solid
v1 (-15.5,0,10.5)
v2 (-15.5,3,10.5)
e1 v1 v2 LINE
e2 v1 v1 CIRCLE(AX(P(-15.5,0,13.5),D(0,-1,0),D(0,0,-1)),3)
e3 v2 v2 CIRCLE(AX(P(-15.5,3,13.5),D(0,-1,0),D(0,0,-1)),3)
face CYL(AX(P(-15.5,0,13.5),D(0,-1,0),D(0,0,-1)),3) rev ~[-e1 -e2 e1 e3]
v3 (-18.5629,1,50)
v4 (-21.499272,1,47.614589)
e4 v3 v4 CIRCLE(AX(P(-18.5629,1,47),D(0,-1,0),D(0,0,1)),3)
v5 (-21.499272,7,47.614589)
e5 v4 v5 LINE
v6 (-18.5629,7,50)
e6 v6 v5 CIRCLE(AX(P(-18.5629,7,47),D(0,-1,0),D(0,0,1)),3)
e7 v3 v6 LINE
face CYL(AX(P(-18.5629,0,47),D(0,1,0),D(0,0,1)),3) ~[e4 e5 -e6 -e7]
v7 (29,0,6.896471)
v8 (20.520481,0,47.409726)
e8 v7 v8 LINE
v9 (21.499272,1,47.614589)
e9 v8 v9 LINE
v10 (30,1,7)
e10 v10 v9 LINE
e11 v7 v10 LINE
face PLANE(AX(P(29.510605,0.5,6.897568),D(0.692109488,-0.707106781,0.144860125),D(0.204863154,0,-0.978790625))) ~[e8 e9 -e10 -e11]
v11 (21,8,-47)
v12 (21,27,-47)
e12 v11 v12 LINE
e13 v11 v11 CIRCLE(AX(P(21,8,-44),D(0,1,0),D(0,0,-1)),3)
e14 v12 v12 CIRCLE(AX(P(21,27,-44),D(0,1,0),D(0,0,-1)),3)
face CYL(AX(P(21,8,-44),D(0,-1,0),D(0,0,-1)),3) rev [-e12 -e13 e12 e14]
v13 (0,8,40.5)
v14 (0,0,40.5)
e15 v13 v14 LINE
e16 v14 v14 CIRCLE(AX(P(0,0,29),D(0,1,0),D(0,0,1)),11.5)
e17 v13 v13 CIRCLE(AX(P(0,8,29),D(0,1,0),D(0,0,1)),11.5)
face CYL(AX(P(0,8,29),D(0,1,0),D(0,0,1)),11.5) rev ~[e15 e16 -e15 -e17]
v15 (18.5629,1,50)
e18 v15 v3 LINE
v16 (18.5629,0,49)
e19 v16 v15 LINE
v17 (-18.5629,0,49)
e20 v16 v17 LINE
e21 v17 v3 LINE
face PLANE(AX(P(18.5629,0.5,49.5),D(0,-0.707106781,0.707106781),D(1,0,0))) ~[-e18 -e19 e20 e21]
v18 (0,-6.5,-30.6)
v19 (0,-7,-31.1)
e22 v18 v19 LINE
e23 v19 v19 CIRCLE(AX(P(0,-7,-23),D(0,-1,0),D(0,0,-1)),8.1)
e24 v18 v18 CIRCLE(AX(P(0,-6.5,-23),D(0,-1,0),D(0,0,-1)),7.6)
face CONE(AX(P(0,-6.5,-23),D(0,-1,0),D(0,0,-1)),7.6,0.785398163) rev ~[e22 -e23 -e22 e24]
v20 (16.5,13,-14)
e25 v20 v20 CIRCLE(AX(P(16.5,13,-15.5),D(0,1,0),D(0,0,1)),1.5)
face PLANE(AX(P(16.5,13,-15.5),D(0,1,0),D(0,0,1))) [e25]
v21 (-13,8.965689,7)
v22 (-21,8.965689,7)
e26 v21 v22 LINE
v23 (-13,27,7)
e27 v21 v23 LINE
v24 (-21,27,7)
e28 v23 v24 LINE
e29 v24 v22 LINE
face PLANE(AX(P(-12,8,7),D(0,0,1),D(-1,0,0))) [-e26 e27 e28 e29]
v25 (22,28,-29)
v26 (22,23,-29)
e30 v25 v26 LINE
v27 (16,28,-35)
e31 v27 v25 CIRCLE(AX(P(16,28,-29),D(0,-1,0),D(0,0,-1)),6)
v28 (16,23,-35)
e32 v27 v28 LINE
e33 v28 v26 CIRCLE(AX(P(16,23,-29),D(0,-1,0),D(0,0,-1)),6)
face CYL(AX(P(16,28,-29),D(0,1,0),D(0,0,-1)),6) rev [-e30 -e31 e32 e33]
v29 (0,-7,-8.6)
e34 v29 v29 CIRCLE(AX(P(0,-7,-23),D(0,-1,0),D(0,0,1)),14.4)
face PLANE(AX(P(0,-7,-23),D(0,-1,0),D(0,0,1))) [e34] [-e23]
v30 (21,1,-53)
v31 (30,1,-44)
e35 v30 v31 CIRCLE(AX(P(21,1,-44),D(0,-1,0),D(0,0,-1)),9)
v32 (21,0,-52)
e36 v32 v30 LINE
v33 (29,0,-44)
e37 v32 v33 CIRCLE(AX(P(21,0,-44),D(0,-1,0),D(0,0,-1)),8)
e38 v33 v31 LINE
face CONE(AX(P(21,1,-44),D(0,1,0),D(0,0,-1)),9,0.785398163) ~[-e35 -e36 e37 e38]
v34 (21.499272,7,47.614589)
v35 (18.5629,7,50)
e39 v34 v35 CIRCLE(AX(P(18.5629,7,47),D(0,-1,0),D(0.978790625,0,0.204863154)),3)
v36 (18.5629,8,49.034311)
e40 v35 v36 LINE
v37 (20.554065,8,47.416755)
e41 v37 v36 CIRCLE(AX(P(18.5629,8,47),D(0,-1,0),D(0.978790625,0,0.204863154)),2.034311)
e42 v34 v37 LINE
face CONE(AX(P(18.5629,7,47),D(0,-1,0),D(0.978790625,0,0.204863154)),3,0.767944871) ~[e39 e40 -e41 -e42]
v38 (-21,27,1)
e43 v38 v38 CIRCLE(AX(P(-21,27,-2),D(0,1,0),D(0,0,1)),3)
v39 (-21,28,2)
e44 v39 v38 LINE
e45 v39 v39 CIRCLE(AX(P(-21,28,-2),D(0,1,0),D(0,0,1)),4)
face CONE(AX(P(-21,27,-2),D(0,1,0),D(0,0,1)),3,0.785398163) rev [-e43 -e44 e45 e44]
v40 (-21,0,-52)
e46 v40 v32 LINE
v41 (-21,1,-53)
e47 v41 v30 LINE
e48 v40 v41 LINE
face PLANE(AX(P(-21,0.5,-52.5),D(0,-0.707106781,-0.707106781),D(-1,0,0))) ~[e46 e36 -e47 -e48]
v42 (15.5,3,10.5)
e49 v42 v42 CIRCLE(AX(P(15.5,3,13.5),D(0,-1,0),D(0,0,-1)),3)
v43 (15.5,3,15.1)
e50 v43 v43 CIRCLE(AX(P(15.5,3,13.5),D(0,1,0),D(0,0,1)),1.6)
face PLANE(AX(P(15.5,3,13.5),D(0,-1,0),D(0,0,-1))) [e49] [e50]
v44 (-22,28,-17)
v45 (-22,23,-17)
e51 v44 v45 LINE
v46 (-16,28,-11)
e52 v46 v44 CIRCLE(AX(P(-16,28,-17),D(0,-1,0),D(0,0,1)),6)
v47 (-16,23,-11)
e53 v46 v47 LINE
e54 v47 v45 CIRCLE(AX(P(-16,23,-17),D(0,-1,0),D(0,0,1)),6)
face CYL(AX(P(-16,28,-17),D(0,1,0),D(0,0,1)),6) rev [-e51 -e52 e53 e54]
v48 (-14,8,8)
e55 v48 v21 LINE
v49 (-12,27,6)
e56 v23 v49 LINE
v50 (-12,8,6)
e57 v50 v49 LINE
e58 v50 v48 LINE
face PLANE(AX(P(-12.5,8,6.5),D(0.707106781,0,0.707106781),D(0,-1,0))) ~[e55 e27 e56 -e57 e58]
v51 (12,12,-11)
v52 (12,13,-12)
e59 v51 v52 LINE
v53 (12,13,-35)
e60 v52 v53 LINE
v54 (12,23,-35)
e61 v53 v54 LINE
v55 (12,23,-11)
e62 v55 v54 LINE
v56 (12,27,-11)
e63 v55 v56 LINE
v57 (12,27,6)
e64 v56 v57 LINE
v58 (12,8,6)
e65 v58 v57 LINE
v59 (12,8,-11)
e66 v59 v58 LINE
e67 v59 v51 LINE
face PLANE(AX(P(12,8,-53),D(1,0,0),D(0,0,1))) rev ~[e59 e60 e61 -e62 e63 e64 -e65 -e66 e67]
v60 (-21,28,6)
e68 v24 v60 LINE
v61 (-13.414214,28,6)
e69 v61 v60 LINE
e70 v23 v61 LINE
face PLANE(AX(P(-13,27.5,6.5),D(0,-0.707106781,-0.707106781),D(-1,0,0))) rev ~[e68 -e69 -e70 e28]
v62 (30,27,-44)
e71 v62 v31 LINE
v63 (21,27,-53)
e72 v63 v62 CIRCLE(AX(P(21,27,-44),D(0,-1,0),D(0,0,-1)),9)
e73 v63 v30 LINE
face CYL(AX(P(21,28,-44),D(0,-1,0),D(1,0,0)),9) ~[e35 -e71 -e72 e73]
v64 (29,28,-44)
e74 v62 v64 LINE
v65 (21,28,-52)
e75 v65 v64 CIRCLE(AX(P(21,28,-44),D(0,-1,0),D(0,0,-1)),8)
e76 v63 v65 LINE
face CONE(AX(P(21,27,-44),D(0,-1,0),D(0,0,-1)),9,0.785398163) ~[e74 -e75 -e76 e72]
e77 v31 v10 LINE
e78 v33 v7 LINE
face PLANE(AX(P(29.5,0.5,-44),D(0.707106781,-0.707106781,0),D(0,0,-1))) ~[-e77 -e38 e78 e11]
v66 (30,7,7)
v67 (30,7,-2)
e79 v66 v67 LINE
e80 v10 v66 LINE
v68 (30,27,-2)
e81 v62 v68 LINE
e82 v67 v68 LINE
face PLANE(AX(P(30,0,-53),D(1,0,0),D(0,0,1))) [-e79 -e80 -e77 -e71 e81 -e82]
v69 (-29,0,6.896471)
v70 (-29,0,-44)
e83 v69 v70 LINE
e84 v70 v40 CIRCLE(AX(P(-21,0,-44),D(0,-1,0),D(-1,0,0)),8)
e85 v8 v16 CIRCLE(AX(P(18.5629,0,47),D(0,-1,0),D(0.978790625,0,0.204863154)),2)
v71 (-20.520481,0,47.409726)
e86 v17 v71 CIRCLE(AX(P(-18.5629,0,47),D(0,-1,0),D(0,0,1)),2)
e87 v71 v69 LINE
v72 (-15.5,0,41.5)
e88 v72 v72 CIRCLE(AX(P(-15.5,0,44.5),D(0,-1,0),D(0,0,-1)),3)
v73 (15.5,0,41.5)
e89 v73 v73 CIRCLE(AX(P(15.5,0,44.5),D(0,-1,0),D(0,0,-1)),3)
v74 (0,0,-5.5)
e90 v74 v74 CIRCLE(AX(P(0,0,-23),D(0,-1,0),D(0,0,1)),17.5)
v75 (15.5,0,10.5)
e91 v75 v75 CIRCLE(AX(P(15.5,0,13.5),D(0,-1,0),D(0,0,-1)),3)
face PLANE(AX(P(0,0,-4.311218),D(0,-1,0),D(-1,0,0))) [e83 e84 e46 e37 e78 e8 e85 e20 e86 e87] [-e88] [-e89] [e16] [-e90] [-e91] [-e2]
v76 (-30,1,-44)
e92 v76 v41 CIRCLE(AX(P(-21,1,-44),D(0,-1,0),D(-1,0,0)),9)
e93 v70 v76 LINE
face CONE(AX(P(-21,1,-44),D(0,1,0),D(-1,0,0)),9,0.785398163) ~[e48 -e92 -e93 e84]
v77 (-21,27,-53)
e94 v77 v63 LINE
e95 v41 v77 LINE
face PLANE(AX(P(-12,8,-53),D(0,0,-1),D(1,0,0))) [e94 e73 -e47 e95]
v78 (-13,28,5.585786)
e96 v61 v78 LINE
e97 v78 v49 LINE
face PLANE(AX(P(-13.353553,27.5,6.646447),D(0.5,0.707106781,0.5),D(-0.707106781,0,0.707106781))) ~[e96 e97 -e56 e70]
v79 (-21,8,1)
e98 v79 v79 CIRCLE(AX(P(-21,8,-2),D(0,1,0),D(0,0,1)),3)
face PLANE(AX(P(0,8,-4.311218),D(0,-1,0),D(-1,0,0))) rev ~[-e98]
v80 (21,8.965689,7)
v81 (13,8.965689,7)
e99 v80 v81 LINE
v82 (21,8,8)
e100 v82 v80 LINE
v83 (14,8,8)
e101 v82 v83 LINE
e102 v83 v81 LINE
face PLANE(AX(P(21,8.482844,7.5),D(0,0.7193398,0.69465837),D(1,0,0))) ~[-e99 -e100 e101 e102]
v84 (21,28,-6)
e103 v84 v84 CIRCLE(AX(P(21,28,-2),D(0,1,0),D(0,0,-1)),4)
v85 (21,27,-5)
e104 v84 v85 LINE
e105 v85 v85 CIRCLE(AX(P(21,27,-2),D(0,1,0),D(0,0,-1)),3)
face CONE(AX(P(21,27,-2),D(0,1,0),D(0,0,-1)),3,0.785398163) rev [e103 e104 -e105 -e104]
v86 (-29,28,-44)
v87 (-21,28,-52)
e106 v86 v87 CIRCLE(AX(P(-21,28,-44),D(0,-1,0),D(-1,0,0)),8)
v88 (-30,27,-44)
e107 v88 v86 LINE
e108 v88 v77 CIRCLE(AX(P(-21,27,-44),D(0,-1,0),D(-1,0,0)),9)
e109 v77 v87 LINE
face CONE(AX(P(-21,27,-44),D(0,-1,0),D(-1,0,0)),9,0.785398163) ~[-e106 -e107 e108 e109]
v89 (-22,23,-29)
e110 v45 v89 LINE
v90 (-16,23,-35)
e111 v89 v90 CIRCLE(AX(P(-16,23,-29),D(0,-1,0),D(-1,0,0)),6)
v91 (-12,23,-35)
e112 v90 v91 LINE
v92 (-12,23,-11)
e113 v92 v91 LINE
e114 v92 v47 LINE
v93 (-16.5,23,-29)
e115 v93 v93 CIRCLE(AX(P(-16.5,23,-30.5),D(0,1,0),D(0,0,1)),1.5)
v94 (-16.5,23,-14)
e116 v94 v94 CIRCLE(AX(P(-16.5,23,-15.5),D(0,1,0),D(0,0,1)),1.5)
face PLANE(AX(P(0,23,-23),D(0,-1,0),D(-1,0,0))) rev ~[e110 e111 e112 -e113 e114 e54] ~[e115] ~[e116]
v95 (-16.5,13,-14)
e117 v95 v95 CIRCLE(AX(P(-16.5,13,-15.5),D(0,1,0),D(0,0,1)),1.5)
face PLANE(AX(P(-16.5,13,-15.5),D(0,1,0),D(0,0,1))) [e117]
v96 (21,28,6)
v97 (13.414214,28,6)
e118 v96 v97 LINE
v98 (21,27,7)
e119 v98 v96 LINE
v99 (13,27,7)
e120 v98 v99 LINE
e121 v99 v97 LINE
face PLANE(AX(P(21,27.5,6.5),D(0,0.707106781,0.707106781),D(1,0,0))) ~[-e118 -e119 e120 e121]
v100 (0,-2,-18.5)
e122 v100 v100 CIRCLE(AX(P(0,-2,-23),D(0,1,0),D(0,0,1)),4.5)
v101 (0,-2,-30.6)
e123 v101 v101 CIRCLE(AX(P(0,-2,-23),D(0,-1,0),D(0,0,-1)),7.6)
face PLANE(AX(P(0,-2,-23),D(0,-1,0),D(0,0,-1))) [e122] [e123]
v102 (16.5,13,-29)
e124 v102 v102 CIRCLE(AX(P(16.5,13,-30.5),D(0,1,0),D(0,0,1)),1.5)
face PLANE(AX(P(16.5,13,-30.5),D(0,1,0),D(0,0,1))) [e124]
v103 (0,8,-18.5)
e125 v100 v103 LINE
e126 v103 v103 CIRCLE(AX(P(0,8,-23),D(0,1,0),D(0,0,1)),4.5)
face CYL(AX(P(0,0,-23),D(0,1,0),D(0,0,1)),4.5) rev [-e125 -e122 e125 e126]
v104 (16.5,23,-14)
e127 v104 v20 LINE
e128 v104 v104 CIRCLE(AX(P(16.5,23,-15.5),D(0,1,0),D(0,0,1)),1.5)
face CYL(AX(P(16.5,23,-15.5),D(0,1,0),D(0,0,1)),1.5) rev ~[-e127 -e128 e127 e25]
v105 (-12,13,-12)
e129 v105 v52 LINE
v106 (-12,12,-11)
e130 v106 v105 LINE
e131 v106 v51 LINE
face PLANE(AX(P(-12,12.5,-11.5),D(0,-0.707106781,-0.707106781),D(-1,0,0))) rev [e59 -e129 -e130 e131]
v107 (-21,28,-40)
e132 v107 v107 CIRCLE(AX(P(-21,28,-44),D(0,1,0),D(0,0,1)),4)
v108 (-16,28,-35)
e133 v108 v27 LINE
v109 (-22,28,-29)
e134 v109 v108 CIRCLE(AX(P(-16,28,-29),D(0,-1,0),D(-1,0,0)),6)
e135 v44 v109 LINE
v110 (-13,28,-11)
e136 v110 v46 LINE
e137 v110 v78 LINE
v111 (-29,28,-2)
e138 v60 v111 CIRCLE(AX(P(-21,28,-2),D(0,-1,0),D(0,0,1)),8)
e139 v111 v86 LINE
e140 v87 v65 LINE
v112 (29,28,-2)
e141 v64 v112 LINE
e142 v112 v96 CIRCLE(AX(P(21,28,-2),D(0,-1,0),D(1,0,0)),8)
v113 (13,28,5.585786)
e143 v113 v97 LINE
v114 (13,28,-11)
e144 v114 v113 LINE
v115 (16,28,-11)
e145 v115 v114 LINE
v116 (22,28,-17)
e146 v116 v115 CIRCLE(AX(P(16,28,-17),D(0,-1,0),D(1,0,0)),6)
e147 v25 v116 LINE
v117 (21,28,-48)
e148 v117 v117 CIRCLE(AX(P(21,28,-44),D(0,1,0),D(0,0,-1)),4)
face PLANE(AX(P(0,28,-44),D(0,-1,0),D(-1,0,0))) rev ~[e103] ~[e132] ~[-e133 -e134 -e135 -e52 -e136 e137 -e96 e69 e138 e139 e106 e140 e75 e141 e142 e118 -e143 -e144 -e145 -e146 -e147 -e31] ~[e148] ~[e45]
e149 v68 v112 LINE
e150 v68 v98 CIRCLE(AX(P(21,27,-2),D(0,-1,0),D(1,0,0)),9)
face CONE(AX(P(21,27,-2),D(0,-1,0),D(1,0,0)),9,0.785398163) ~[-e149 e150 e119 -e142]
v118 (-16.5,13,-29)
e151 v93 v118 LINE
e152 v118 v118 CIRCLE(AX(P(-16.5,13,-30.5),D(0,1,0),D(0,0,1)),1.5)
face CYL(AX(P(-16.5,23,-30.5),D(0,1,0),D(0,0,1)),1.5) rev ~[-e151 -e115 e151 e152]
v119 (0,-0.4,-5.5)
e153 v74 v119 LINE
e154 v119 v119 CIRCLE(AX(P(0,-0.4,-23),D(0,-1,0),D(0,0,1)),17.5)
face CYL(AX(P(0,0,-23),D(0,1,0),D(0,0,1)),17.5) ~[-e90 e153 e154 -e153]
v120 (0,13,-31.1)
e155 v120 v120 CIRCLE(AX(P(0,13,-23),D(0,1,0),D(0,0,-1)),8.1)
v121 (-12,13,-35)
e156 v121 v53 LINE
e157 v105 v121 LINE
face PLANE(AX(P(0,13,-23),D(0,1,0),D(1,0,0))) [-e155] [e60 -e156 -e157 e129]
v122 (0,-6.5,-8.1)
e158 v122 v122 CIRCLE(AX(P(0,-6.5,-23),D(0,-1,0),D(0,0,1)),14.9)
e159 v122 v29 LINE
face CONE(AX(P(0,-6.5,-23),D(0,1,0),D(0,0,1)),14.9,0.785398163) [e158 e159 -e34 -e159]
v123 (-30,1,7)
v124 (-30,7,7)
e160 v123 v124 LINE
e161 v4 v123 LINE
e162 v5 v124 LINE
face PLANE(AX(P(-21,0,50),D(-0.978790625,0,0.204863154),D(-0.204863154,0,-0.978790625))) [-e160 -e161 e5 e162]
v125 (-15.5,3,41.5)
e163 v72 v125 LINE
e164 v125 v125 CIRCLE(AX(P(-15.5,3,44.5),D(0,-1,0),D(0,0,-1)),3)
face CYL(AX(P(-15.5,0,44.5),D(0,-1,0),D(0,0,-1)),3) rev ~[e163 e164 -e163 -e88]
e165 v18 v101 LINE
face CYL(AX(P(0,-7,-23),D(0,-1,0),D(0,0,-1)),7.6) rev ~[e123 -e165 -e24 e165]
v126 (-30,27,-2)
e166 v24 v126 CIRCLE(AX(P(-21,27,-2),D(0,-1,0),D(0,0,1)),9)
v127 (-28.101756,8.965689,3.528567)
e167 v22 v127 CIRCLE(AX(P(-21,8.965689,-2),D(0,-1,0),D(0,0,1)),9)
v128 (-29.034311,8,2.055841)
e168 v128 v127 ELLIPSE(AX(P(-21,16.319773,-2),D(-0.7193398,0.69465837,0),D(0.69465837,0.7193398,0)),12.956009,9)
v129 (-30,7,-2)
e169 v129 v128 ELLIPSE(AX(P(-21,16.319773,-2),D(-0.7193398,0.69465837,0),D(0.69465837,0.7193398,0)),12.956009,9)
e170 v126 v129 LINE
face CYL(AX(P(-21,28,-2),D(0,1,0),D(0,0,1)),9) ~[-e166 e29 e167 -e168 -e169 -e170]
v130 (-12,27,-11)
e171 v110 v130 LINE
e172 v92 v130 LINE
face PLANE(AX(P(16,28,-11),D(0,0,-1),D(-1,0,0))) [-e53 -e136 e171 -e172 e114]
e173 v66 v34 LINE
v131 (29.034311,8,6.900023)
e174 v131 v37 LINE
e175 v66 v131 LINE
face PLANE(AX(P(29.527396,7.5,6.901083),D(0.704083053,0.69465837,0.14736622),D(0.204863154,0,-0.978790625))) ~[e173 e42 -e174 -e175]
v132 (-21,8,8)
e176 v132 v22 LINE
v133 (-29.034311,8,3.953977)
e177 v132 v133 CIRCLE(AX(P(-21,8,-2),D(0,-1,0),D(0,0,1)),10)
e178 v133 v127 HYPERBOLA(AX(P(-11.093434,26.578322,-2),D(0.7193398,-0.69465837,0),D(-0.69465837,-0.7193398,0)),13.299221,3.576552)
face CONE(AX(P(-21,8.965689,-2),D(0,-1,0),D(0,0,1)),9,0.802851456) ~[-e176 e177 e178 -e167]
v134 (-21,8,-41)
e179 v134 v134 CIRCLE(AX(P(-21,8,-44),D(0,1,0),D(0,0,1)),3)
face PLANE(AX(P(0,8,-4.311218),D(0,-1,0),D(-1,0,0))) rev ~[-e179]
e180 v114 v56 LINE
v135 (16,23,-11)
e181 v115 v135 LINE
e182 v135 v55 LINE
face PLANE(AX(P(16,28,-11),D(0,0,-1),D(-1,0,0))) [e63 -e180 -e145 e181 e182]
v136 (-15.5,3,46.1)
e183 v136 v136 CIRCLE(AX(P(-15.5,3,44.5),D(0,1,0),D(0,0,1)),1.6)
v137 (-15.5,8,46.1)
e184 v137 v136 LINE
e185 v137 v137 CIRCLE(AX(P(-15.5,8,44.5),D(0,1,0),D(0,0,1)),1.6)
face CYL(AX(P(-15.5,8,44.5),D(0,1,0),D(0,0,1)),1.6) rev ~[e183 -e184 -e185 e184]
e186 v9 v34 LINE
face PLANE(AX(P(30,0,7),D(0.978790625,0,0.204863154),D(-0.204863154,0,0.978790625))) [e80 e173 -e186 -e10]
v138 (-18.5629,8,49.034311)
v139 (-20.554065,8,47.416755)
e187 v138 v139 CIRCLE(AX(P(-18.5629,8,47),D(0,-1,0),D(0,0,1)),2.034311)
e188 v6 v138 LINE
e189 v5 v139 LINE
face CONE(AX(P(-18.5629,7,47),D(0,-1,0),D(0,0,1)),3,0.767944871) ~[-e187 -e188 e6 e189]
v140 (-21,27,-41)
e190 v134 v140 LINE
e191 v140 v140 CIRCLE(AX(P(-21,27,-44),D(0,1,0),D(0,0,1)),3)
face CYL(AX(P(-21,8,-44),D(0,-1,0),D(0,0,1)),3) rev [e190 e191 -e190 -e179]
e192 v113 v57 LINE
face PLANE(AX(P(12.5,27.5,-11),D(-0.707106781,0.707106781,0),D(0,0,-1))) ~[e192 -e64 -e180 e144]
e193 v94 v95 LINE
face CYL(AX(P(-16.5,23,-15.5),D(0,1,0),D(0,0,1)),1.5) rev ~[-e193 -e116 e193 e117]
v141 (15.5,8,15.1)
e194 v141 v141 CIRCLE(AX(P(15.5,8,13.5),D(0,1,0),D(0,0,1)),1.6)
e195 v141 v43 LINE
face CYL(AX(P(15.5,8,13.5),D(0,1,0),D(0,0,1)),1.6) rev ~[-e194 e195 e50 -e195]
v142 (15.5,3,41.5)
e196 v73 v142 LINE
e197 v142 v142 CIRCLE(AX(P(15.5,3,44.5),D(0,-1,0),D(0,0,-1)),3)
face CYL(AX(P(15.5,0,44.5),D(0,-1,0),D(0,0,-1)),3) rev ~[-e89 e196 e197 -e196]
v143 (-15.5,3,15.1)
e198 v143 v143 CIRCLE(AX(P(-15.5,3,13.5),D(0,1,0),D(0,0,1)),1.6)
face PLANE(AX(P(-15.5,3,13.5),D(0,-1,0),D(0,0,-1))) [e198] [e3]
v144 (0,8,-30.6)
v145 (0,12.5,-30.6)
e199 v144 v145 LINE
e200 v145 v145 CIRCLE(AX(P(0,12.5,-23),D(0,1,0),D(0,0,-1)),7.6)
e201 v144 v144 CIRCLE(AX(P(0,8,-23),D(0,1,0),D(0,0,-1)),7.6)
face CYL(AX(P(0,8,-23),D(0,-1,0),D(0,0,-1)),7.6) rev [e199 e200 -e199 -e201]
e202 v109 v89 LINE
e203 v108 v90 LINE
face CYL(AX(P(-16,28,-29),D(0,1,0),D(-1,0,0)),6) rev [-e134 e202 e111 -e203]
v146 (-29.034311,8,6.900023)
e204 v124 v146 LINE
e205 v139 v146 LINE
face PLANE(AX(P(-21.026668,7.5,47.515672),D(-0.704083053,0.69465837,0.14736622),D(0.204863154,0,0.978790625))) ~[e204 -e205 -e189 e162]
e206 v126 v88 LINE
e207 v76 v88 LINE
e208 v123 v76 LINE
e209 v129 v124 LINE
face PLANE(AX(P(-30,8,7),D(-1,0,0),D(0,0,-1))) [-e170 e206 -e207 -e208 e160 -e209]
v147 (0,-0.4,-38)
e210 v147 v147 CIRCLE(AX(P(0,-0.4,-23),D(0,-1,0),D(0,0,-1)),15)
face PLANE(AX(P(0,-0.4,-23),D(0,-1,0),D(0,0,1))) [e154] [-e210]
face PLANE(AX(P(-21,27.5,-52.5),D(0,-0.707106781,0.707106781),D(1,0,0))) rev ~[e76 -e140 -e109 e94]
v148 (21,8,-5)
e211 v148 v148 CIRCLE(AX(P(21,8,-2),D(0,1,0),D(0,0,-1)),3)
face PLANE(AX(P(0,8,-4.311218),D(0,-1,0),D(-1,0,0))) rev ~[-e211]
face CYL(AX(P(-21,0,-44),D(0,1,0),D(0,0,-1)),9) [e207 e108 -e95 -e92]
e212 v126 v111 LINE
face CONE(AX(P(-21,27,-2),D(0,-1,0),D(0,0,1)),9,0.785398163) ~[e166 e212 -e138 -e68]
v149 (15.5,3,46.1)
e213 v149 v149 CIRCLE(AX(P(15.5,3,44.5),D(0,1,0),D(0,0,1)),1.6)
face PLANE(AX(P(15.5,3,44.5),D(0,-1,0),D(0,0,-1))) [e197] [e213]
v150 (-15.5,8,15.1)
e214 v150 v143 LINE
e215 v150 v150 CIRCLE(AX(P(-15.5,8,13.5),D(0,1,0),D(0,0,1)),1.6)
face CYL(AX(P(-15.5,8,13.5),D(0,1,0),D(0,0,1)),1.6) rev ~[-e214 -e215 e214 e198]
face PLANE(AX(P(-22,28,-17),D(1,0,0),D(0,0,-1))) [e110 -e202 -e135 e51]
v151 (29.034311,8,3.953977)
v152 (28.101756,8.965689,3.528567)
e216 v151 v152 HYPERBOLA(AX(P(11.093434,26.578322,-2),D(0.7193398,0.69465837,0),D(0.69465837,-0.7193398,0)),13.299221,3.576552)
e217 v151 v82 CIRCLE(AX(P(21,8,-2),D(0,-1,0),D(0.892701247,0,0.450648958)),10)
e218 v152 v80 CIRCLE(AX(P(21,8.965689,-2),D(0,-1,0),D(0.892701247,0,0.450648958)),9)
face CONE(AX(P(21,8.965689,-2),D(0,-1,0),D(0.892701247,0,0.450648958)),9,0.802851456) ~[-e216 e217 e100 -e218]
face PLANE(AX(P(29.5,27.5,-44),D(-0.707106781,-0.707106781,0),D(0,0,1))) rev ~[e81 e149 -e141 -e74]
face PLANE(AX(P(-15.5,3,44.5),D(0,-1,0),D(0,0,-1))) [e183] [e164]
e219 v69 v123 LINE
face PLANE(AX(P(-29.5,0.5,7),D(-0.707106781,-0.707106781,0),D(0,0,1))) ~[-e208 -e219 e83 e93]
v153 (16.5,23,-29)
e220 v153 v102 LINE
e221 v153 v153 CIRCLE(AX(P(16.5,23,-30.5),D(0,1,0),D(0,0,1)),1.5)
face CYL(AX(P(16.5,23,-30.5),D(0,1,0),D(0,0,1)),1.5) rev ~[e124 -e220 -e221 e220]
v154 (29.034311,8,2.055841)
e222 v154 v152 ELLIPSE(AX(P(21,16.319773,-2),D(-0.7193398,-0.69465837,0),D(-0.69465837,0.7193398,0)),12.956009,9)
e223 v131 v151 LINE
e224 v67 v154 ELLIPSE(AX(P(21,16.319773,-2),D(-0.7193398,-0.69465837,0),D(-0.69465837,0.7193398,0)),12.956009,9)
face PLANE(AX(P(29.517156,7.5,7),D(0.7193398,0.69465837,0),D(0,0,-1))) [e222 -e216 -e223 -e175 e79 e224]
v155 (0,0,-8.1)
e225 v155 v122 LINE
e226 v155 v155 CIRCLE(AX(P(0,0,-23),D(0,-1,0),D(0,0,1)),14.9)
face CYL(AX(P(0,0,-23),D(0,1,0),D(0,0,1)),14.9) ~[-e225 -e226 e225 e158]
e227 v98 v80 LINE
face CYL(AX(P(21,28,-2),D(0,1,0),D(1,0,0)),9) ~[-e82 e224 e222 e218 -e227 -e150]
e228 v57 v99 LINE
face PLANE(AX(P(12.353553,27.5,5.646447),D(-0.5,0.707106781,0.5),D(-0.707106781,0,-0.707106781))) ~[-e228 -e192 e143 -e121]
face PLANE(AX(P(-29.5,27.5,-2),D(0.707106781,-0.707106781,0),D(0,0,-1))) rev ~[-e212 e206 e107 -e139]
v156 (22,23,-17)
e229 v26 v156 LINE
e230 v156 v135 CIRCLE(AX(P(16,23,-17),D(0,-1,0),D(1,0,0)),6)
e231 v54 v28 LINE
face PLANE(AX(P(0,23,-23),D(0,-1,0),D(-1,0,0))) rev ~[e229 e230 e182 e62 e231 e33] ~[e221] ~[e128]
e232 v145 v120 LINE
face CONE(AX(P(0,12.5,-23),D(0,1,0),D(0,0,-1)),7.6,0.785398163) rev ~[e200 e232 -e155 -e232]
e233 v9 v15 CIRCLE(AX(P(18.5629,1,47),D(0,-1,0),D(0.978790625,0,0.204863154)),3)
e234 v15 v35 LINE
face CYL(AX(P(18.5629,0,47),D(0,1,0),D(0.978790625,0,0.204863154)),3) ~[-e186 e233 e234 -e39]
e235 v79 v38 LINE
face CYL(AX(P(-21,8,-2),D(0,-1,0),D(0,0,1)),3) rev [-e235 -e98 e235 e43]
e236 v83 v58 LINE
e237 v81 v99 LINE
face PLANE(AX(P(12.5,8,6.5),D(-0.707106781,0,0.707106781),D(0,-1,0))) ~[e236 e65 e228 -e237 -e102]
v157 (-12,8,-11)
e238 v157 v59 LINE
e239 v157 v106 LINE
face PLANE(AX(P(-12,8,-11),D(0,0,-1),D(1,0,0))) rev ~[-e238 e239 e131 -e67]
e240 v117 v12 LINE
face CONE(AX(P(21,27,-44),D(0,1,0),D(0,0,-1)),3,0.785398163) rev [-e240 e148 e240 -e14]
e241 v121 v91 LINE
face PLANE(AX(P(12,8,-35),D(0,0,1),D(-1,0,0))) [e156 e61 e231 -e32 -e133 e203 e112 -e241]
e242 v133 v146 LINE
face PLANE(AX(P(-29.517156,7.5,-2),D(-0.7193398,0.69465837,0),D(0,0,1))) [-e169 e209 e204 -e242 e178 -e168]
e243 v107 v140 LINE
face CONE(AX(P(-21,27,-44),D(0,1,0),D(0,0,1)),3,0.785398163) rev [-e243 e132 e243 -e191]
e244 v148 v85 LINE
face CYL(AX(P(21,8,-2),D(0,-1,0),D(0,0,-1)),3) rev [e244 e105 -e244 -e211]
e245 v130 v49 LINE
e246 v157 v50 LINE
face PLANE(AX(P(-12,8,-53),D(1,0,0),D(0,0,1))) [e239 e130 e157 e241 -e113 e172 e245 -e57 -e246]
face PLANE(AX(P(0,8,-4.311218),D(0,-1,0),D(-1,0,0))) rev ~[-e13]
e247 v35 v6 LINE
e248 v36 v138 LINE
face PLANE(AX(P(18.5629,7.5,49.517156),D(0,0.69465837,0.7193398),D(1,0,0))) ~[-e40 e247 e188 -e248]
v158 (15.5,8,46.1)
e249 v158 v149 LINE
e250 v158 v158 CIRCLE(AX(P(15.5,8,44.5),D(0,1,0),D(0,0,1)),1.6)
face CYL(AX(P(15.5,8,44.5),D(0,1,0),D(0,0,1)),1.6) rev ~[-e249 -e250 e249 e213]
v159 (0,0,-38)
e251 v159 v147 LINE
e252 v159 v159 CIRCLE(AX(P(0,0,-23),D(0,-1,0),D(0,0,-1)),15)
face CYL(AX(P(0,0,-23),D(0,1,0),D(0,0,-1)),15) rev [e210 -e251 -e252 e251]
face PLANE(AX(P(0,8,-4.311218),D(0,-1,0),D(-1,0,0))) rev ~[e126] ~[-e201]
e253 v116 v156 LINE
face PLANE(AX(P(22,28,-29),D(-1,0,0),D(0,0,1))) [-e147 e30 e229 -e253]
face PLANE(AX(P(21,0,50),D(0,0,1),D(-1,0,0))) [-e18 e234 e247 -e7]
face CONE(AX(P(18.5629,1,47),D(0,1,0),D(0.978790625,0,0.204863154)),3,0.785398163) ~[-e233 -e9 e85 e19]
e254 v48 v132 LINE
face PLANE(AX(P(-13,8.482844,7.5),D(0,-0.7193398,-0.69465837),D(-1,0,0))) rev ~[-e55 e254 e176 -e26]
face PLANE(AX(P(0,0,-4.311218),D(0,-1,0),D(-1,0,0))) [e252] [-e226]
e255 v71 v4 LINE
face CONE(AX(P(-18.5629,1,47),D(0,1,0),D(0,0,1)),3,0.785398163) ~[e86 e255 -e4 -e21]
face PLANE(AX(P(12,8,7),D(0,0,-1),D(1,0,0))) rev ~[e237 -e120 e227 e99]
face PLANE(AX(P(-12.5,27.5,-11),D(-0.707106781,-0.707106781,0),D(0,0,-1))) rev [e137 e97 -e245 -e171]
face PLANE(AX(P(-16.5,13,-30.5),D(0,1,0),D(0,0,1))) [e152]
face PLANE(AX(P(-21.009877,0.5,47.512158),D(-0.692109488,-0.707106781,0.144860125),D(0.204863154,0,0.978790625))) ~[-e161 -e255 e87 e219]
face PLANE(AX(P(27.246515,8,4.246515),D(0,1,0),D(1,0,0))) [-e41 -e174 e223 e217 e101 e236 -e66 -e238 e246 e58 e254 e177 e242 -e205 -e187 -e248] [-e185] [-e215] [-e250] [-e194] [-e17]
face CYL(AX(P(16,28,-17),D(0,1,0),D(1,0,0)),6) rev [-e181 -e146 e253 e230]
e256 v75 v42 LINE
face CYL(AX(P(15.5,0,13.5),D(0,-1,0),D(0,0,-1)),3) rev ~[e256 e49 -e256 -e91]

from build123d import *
from OCP.BRepFilletAPI import BRepFilletAPI_MakeChamfer

# Parameters (mm, degrees)
EXTRUDE_1_DEPTH      = 8
SKETCH_3_R           = 11.5
SKETCH_3_R_2         = 1.6
SKETCH_3_R_3         = 1.5999999999999992
SKETCH_3_R_4         = 1.6000000000000019
CUT_EXTRUDE_1_DEPTH  = 20
SKETCH_2_R           = 3.0000000000000018
SKETCH_2_R_2         = 3.0000000000000044
EXTRUDE_2_DEPTH      = 20
SKETCH_4_R           = 4.5
CUT_EXTRUDE_2_DEPTH  = 20
EXTRUDE_6_DEPTH      = 20
SKETCH_8_W           = 24.000000000000004
SKETCH_8_H           = 23.999999999999996
SKETCH_8_R           = 6.5
EXTRUDE_7_DEPTH      = 5
SKETCH_9_R           = 14.900000000000002
SKETCH_9_R_2         = 4.5
EXTRUDE_8_DEPTH      = 7
SKETCH_12_R          = 17.5
SKETCH_12_R_2        = 15
EXTRUDE_10_DEPTH     = 0.4
SKETCH_13_R          = 7.6000000000000005
CUT_EXTRUDE_4_DEPTH  = 5
FILLET_2_R           = 9
CUT_EXTRUDE_5_DEPTH  = 20
SKETCH_17_R          = 2.9999999999999996
SKETCH_17_R_2        = 2.999999999999998
SKETCH_17_R_3        = 3.0000000000000004
SKETCH_17_R_4        = 2.9999999999999987
CUT_EXTRUDE_8_DEPTH  = 3
FILLET_3_R           = 3
CHAMFER_3_SIZE       = 1
CHAMFER_4_SIZE       = 1
CHAMFER_8_SIZE       = 1
CHAMFER_11_SIZE      = 1
CHAMFER_11_SIZE2     = 0.9656887748070774
CHAMFER_12_SIZE      = 1
CHAMFER_12_SIZE2     = 0.9656887748070774
CUT_EXTRUDE_9_DEPTH  = 5
SKETCH_19_R          = 1.5000000000000009
CUT_EXTRUDE_10_DEPTH = 9.999999999999998
CHAMFER_14_SIZE      = 0.5
CHAMFER_15_SIZE      = 1
CHAMFER_16_SIZE      = 0.5
CUT_EXTRUDE_START    = -5
SKETCH_20_R          = 7.6000000000000005
CUT_EXTRUDE_11_DEPTH = 5
CHAMFER_17_SIZE      = 0.5


with BuildPart() as part:
    # 草图1 → 凸台-拉伸1 (new body)
    with BuildSketch(Plane(origin=(0, 0, 0), x_dir=(1, 0, 0), z_dir=(0, 1, 0))):
        Polygon((29.999999999999996, -7.000000000000006), (21.000000000000014, -50), (-20.999999999999986, -50), (-30.000000000000004, -7.000000000000006), (-30.000000000000004, 52.99999999999999), (29.999999999999996, 52.99999999999999), align=None)
    extrude(amount=EXTRUDE_1_DEPTH)

    # 草图3 → 切除-拉伸1 (cut)
    with BuildSketch(Plane(origin=(0, 8, 0), x_dir=(1, 0, 0), z_dir=(0, 1, 0))):
        with Locations(Location((1.33e-14, -29.000000000000007, 0), (0, 0, 270))):
            Circle(SKETCH_3_R)
        with Locations(Location((15.500000000000012, -13.500000000000009, 0), (0, 0, 270))):
            Circle(SKETCH_3_R_2)
        with Locations(Location((15.500000000000398, -44.500000000000064, 0), (0, 0, 270))):
            Circle(SKETCH_3_R_3)
        with Locations(Location((-15.499999999999662, -44.50000000000034, 0), (0, 0, 270))):
            Circle(SKETCH_3_R_3)
        with Locations(Location((-15.499999999999826, -13.500000000000288, 0), (0, 0, 270))):
            Circle(SKETCH_3_R_4)
    extrude(amount=-CUT_EXTRUDE_1_DEPTH, mode=Mode.SUBTRACT)

    # 草图2 → 凸台-拉伸2 (add)
    # profile 1 of 2: a face of its own
    with BuildSketch(Plane(origin=(0, 8, 0), x_dir=(1, 0, 0), z_dir=(0, 1, 0))):
        Polygon((-30.000000000000004, 52.99999999999999), (-12.000000000000005, 52.99999999999999), (-11.999999999999996, -7.000000000000006), (-29.999999999999996, -7.000000000000006), align=None)
        with Locations(Location((-21.000000000000004, 43.99999999999999, 0), (0, 0, 270))):
            Circle(SKETCH_2_R, mode=Mode.SUBTRACT)
        with Locations(Location((-20.999999999999993, 1.9999999999999931, 0), (0, 0, 270))):
            Circle(SKETCH_2_R_2, mode=Mode.SUBTRACT)
    # profile 2 of 2: a face of its own
    with BuildSketch(Plane(origin=(0, 8, 0), x_dir=(1, 0, 0), z_dir=(0, 1, 0))):
        Polygon((12.000000000000005, 52.99999999999999), (11.999999999999996, -7.000000000000006), (29.999999999999996, -7.000000000000006), (30.000000000000004, 52.99999999999999), align=None)
        with Locations(Location((20.999999999999993, 1.9999999999999931, 0), (0, 0, 90))):
            Circle(SKETCH_2_R_2, mode=Mode.SUBTRACT)
        with Locations(Location((21.000000000000004, 43.99999999999999, 0), (0, 0, 90))):
            Circle(SKETCH_2_R, mode=Mode.SUBTRACT)
    extrude(amount=EXTRUDE_2_DEPTH)

    # 草图4 → 切除-拉伸2 (cut)
    with BuildSketch(Plane(origin=(0, 8, 0), x_dir=(1, 0, 0), z_dir=(0, 1, 0))):
        with Locations(Location((0, 22.999999999999993, 0), (0, 0, 270))):
            Circle(SKETCH_4_R)
    extrude(amount=-CUT_EXTRUDE_2_DEPTH, mode=Mode.SUBTRACT)

    # 草图7 → 凸台-拉伸6 (add)
    with BuildSketch(Plane(origin=(0, 8, 0), x_dir=(1, 0, 0), z_dir=(0, 1, 0))):
        Polygon((12.000000000000304, 34.99999999999999), (-11.999999999999996, 34.99999999999999), (-11.999999999999996, 52.99999999999999), (12.000000000000313, 52.99999999999999), align=None)
    extrude(amount=EXTRUDE_6_DEPTH)

    # 草图8 → 凸台-拉伸7 (add)
    with BuildSketch(Plane(origin=(0, 8, 0), x_dir=(1, 0, 0), z_dir=(0, 1, 0))):
        with Locations((-1.78e-15, 22.999999999999993)):
            Rectangle(SKETCH_8_W, SKETCH_8_H)
        with Locations(Location((0, 22.999999999999993, 0), (0, 0, 270))):
            Circle(SKETCH_8_R, mode=Mode.SUBTRACT)
    extrude(amount=EXTRUDE_7_DEPTH)

    # 草图9 → 凸台-拉伸8 (add)
    with BuildSketch(Plane.XZ):
        with Locations(Location((0, -22.999999999999993, 0), (0, 0, 90))):
            Circle(SKETCH_9_R)
        with Locations(Location((0, -22.999999999999993, 0), (0, 0, 90))):
            Circle(SKETCH_9_R_2, mode=Mode.SUBTRACT)
    extrude(amount=EXTRUDE_8_DEPTH)

    # 草图12 → 凸台-拉伸10 (add)
    with BuildSketch(Plane.XZ):
        with Locations(Location((0, -22.999999999999993, 0), (0, 0, 90))):
            Circle(SKETCH_12_R)
        with Locations(Location((0, -22.999999999999993, 0), (0, 0, 270))):
            Circle(SKETCH_12_R_2, mode=Mode.SUBTRACT)
    extrude(amount=EXTRUDE_10_DEPTH)

    # 草图13 → 切除-拉伸4 (cut)
    with BuildSketch(Plane.XZ.offset(7)):
        with Locations(Location((0, -22.999999999999993, 0), (0, 0, 270))):
            Circle(SKETCH_13_R)
    extrude(amount=-CUT_EXTRUDE_4_DEPTH, mode=Mode.SUBTRACT)

    # 圆角2
    fillet_2_edges = [part.edges().sort_by_distance(p)[0] for p in [
        (-30.000000000000004, 14, -52.99999999999999),
        (30, 14, -52.99999999999999),
    ]]
    fillet(fillet_2_edges, radius=FILLET_2_R)

    # 草图14 → 切除-拉伸5 (cut)
    with BuildSketch(Plane(origin=(0, 28, 0), x_dir=(1, 0, 0), z_dir=(0, 1, 0))):
        with BuildLine():
            Line((-30.000000000000004, 1.9999999999999931), (-29.999999999999996, -7.000000000000006))
            Line((-29.999999999999996, -7.000000000000006), (-20.999999999999993, -7.000000000000015))
            ThreePointArc((-20.999999999999993, -7.000000000000015), (-27.36396103067893, -4.363961030678942), (-30.000000000000004, 1.9999999999999931))
        make_face()
        with BuildLine():
            Line((20.999999999999993, -7.000000000000006), (29.999999999999996, -7.000000000000006))
            Line((29.999999999999996, -7.000000000000006), (29.999999999999993, 1.9999999999999931))
            ThreePointArc((29.999999999999993, 1.9999999999999931), (27.363961030678922, -4.363961030678935), (20.999999999999993, -7.000000000000006))
        make_face()
    extrude(amount=-CUT_EXTRUDE_5_DEPTH, mode=Mode.SUBTRACT)

    # 草图17 → 切除-拉伸8 (cut)
    with BuildSketch(Plane.XZ):
        with Locations(Location((-15.499999999999826, 13.500000000000288, 0), (0, 0, 270))):
            Circle(SKETCH_17_R)
        with Locations(Location((-15.499999999999657, 44.4999999999999, 0), (0, 0, 270))):
            Circle(SKETCH_17_R_2)
        with Locations(Location((15.499999999999964, 44.49999999999962, 0), (0, 0, 270))):
            Circle(SKETCH_17_R_3)
        with Locations(Location((15.499999999999568, 13.500000000000009, 0), (0, 0, 270))):
            Circle(SKETCH_17_R_4)
    extrude(amount=-CUT_EXTRUDE_8_DEPTH, mode=Mode.SUBTRACT)

    # 圆角3
    fillet_3_edges = [part.edges().sort_by_distance(p)[0] for p in [
        (21.000000000000014, 4, 50),
        (-20.999999999999986, 4, 50),
    ]]
    fillet(fillet_3_edges, radius=FILLET_3_R)

    # 倒角3
    chamfer_3_edges = [part.edges().sort_by_distance(p)[0] for p in [
        (29.999999999999996, 0, -18.499999999999993),
        (25.74963598649637, 0, 27.307294731184044),
        (-7.11e-15, 0, -52.99999999999999),
        (27.36396103067893, -1.61e-15, -50.36396103067892),
        (-27.363961030678936, 0, -50.36396103067892),
        (1.066e-14, 0, 50),
        (-20.45449091092715, 0, 49.328493975416755),
        (20.45449091092717, 0, 49.328493975416755),
        (-25.749635986496358, 0, 27.307294731184044),
        (-30.000000000000004, 0, -18.499999999999993),
    ]]
    chamfer(chamfer_3_edges, length=CHAMFER_3_SIZE)

    # 倒角4
    chamfer_4_edges = [part.edges().sort_by_distance(p)[0] for p in [
        (-11.999999999999996, 18, 7.000000000000006),
        (11.999999999999996, 18, 7.000000000000006),
    ]]
    chamfer(chamfer_4_edges, length=CHAMFER_4_SIZE)

    # 倒角8
    chamfer_8_edges = [part.edges().sort_by_distance(p)[0] for p in [
        (0, 13, -10.999999999999996),
    ]]
    chamfer(chamfer_8_edges, length=CHAMFER_8_SIZE)

    # 倒角11: one chamfer whose edges measure the first distance from different faces: ONE call of the kernel's chamfer builder (chamfer() names one face for all edges)
    chamfer_11_edges_1 = [part.edges().sort_by_distance(p)[0] for p in [
        (-30, 8, 2.500000000000007),
    ]]
    chamfer_11_side_1 = [part.faces().sort_by_distance(p)[0] for p in [
        (-30.000000000000007, 13.973684210526315, -21.657894736842096),
    ]]
    chamfer_11_edges_2 = [part.edges().sort_by_distance(p)[0] for p in [
        (29.999999999999993, 8, 2.500000000000006),
    ]]
    chamfer_11_side_2 = [part.faces().sort_by_distance(p)[0] for p in [
        (29.999999999999993, 13.973684210526315, -21.657894736842096),
    ]]
    chamfer_11_edges_3 = [part.edges().sort_by_distance(p)[0] for p in [
        (1.066e-14, 8, 50),
    ]]
    chamfer_11_side_3 = [part.faces().sort_by_distance(p)[0] for p in [
        (1.113e-14, 4.5, 50),
    ]]
    chamfer_11_edges_4 = [part.edges().sort_by_distance(p)[0] for p in [
        (-20.45449091092715, 8, 49.328493975416755),
    ]]
    chamfer_11_side_4 = [part.faces().sort_by_distance(p)[0] for p in [
        (-20.45449091092715, 4.5, 49.328493975416755),
    ]]
    chamfer_11_edges_5 = [part.edges().sort_by_distance(p)[0] for p in [
        (20.45449091092717, 8, 49.328493975416755),
    ]]
    chamfer_11_side_5 = [part.faces().sort_by_distance(p)[0] for p in [
        (20.45449091092717, 4.5, 49.328493975416755),
    ]]
    chamfer_11_edges_6 = [part.edges().sort_by_distance(p)[0] for p in [
        (-25.749635986496358, 8, 27.307294731184044),
    ]]
    chamfer_11_side_6 = [part.faces().sort_by_distance(p)[0] for p in [
        (-25.74963598649636, 4.5, 27.307294731184037),
    ]]
    chamfer_11_edges_7 = [part.edges().sort_by_distance(p)[0] for p in [
        (25.74963598649637, 8, 27.307294731184044),
    ]]
    chamfer_11_side_7 = [part.faces().sort_by_distance(p)[0] for p in [
        (25.74963598649637, 4.5, 27.307294731184044),
    ]]
    chamfer_11 = BRepFilletAPI_MakeChamfer(part.part.solid().wrapped)
    for e in chamfer_11_edges_1:
        chamfer_11.Add(CHAMFER_11_SIZE, CHAMFER_11_SIZE2, e.wrapped, chamfer_11_side_1[0].wrapped)  # the first distance lies on this face
    for e in chamfer_11_edges_2:
        chamfer_11.Add(CHAMFER_11_SIZE, CHAMFER_11_SIZE2, e.wrapped, chamfer_11_side_2[0].wrapped)  # the first distance lies on this face
    for e in chamfer_11_edges_3:
        chamfer_11.Add(CHAMFER_11_SIZE, CHAMFER_11_SIZE2, e.wrapped, chamfer_11_side_3[0].wrapped)  # the first distance lies on this face
    for e in chamfer_11_edges_4:
        chamfer_11.Add(CHAMFER_11_SIZE, CHAMFER_11_SIZE2, e.wrapped, chamfer_11_side_4[0].wrapped)  # the first distance lies on this face
    for e in chamfer_11_edges_5:
        chamfer_11.Add(CHAMFER_11_SIZE, CHAMFER_11_SIZE2, e.wrapped, chamfer_11_side_5[0].wrapped)  # the first distance lies on this face
    for e in chamfer_11_edges_6:
        chamfer_11.Add(CHAMFER_11_SIZE, CHAMFER_11_SIZE2, e.wrapped, chamfer_11_side_6[0].wrapped)  # the first distance lies on this face
    for e in chamfer_11_edges_7:
        chamfer_11.Add(CHAMFER_11_SIZE, CHAMFER_11_SIZE2, e.wrapped, chamfer_11_side_7[0].wrapped)  # the first distance lies on this face
    add(Compound.cast(chamfer_11.Shape()), mode=Mode.REPLACE)

    # 倒角12
    chamfer_12_edges = [part.edges().sort_by_distance(p)[0] for p in [
        (-16.999999999999993, 8, 7.000000000000006),
        (25.716854588488776, 8, 5.664938537982707),
        (16.999999999999993, 8, 7.000000000000006),
        (-25.716854588488772, 8, 5.664938537982719),
    ]]
    chamfer_12_side = [part.faces().sort_by_distance(p)[0] for p in [
        (-26.15459416328618, 8, 6.376269971572619),
    ]]
    chamfer(chamfer_12_edges, length=CHAMFER_12_SIZE, length2=CHAMFER_12_SIZE2, reference=chamfer_12_side[0])

    # 草图18 → 切除-拉伸9 (cut)
    with BuildSketch(Plane(origin=(0, 28, 0), x_dir=(1, 0, 0), z_dir=(0, 1, 0))):
        with BuildLine():
            Line((-15.999999999999956, 34.99999999999999), (15.999999999999956, 34.99999999999999))
            ThreePointArc((15.999999999999956, 34.99999999999999), (20.242640687119287, 33.24264068711928), (22, 28.999999999999947))
            Line((22, 28.999999999999947), (22, 17.000000000000036))
            ThreePointArc((22, 17.000000000000036), (20.242640687119284, 12.757359312880707), (15.999999999999956, 10.999999999999993))
            Line((15.999999999999956, 10.999999999999993), (-15.999999999999956, 10.999999999999993))
            ThreePointArc((-15.999999999999956, 10.999999999999993), (-20.242640687119284, 12.757359312880709), (-22, 17.000000000000036))
            Line((-22, 17.000000000000036), (-22, 28.999999999999947))
            ThreePointArc((-22, 28.999999999999947), (-20.242640687119287, 33.24264068711928), (-15.999999999999956, 34.99999999999999))
        make_face()
    extrude(amount=-CUT_EXTRUDE_9_DEPTH, mode=Mode.SUBTRACT)

    # 草图19 → 切除-拉伸10 (cut)
    with BuildSketch(Plane(origin=(0, 23, 0), x_dir=(1, 0, 0), z_dir=(0, 1, 0))):
        with Locations(Location((16.5, 30.49999999999999, 0), (0, 0, 270))):
            Circle(SKETCH_19_R)
        with Locations(Location((16.500000000000306, 15.499999999999993, 0), (0, 0, 270))):
            Circle(SKETCH_19_R)
        with Locations(Location((-16.500000000000004, 30.49999999999999, 0), (0, 0, 270))):
            Circle(SKETCH_19_R)
        with Locations(Location((-16.500000000000004, 15.499999999999993, 0), (0, 0, 270))):
            Circle(SKETCH_19_R)
    extrude(amount=-CUT_EXTRUDE_10_DEPTH, mode=Mode.SUBTRACT)

    # 倒角14
    chamfer_14_edges = [part.edges().sort_by_distance(p)[0] for p in [
        (-2.74e-15, -7, -37.89999999999999),
    ]]
    chamfer(chamfer_14_edges, length=CHAMFER_14_SIZE)

    # 倒角15
    chamfer_15_edges = [part.edges().sort_by_distance(p)[0] for p in [
        (-30, 28, -22.999999999999993),
        (-3.55e-15, 28, -52.99999999999999),
        (27.363961030678936, 28, -50.36396103067892),
        (-27.363961030678936, 28, -50.36396103067892),
        (-16.999999999999993, 28, 7.000000000000006),
        (-27.36396103067893, 28, 4.363961030678943),
        (30, 28, -22.999999999999993),
        (27.363961030678922, 28, 4.363961030678935),
        (16.999999999999993, 28, 7.000000000000006),
        (-11.999999999999998, 28, -2.499999999999993),
        (-12.5, 28, 6.500000000000009),
        (12.499999999999996, 28, 6.500000000000006),
        (11.999999999999998, 28, -2.499999999999993),
        (-21.000000000000004, 28, -46.99999999999999),
        (-20.999999999999993, 28, -4.999999999999997),
        (20.999999999999993, 28, 1.0000000000000113),
        (21.000000000000004, 28, -40.99999999999999),
    ]]
    chamfer(chamfer_15_edges, length=CHAMFER_15_SIZE)

    # 倒角16
    chamfer_16_edges = [part.edges().sort_by_distance(p)[0] for p in [
        (2.33e-15, -7, -15.399999999999991),
    ]]
    chamfer(chamfer_16_edges, length=CHAMFER_16_SIZE)

    # 草图20 → 切除-拉伸11 (cut)
    with BuildSketch(Plane(origin=(0, 13.000000000000002, 0), x_dir=(1, 0, 0), z_dir=(0, 1, 0)).offset(CUT_EXTRUDE_START)):
        with Locations(Location((0, 22.999999999999993, 0), (0, 0, 90))):
            Circle(SKETCH_20_R)
    extrude(amount=CUT_EXTRUDE_11_DEPTH, mode=Mode.SUBTRACT)

    # 倒角17
    chamfer_17_edges = [part.edges().sort_by_distance(p)[0] for p in [
        (-1.4e-15, 13.000000000000002, -15.399999999999991),
    ]]
    chamfer(chamfer_17_edges, length=CHAMFER_17_SIZE)


solid = part.part
